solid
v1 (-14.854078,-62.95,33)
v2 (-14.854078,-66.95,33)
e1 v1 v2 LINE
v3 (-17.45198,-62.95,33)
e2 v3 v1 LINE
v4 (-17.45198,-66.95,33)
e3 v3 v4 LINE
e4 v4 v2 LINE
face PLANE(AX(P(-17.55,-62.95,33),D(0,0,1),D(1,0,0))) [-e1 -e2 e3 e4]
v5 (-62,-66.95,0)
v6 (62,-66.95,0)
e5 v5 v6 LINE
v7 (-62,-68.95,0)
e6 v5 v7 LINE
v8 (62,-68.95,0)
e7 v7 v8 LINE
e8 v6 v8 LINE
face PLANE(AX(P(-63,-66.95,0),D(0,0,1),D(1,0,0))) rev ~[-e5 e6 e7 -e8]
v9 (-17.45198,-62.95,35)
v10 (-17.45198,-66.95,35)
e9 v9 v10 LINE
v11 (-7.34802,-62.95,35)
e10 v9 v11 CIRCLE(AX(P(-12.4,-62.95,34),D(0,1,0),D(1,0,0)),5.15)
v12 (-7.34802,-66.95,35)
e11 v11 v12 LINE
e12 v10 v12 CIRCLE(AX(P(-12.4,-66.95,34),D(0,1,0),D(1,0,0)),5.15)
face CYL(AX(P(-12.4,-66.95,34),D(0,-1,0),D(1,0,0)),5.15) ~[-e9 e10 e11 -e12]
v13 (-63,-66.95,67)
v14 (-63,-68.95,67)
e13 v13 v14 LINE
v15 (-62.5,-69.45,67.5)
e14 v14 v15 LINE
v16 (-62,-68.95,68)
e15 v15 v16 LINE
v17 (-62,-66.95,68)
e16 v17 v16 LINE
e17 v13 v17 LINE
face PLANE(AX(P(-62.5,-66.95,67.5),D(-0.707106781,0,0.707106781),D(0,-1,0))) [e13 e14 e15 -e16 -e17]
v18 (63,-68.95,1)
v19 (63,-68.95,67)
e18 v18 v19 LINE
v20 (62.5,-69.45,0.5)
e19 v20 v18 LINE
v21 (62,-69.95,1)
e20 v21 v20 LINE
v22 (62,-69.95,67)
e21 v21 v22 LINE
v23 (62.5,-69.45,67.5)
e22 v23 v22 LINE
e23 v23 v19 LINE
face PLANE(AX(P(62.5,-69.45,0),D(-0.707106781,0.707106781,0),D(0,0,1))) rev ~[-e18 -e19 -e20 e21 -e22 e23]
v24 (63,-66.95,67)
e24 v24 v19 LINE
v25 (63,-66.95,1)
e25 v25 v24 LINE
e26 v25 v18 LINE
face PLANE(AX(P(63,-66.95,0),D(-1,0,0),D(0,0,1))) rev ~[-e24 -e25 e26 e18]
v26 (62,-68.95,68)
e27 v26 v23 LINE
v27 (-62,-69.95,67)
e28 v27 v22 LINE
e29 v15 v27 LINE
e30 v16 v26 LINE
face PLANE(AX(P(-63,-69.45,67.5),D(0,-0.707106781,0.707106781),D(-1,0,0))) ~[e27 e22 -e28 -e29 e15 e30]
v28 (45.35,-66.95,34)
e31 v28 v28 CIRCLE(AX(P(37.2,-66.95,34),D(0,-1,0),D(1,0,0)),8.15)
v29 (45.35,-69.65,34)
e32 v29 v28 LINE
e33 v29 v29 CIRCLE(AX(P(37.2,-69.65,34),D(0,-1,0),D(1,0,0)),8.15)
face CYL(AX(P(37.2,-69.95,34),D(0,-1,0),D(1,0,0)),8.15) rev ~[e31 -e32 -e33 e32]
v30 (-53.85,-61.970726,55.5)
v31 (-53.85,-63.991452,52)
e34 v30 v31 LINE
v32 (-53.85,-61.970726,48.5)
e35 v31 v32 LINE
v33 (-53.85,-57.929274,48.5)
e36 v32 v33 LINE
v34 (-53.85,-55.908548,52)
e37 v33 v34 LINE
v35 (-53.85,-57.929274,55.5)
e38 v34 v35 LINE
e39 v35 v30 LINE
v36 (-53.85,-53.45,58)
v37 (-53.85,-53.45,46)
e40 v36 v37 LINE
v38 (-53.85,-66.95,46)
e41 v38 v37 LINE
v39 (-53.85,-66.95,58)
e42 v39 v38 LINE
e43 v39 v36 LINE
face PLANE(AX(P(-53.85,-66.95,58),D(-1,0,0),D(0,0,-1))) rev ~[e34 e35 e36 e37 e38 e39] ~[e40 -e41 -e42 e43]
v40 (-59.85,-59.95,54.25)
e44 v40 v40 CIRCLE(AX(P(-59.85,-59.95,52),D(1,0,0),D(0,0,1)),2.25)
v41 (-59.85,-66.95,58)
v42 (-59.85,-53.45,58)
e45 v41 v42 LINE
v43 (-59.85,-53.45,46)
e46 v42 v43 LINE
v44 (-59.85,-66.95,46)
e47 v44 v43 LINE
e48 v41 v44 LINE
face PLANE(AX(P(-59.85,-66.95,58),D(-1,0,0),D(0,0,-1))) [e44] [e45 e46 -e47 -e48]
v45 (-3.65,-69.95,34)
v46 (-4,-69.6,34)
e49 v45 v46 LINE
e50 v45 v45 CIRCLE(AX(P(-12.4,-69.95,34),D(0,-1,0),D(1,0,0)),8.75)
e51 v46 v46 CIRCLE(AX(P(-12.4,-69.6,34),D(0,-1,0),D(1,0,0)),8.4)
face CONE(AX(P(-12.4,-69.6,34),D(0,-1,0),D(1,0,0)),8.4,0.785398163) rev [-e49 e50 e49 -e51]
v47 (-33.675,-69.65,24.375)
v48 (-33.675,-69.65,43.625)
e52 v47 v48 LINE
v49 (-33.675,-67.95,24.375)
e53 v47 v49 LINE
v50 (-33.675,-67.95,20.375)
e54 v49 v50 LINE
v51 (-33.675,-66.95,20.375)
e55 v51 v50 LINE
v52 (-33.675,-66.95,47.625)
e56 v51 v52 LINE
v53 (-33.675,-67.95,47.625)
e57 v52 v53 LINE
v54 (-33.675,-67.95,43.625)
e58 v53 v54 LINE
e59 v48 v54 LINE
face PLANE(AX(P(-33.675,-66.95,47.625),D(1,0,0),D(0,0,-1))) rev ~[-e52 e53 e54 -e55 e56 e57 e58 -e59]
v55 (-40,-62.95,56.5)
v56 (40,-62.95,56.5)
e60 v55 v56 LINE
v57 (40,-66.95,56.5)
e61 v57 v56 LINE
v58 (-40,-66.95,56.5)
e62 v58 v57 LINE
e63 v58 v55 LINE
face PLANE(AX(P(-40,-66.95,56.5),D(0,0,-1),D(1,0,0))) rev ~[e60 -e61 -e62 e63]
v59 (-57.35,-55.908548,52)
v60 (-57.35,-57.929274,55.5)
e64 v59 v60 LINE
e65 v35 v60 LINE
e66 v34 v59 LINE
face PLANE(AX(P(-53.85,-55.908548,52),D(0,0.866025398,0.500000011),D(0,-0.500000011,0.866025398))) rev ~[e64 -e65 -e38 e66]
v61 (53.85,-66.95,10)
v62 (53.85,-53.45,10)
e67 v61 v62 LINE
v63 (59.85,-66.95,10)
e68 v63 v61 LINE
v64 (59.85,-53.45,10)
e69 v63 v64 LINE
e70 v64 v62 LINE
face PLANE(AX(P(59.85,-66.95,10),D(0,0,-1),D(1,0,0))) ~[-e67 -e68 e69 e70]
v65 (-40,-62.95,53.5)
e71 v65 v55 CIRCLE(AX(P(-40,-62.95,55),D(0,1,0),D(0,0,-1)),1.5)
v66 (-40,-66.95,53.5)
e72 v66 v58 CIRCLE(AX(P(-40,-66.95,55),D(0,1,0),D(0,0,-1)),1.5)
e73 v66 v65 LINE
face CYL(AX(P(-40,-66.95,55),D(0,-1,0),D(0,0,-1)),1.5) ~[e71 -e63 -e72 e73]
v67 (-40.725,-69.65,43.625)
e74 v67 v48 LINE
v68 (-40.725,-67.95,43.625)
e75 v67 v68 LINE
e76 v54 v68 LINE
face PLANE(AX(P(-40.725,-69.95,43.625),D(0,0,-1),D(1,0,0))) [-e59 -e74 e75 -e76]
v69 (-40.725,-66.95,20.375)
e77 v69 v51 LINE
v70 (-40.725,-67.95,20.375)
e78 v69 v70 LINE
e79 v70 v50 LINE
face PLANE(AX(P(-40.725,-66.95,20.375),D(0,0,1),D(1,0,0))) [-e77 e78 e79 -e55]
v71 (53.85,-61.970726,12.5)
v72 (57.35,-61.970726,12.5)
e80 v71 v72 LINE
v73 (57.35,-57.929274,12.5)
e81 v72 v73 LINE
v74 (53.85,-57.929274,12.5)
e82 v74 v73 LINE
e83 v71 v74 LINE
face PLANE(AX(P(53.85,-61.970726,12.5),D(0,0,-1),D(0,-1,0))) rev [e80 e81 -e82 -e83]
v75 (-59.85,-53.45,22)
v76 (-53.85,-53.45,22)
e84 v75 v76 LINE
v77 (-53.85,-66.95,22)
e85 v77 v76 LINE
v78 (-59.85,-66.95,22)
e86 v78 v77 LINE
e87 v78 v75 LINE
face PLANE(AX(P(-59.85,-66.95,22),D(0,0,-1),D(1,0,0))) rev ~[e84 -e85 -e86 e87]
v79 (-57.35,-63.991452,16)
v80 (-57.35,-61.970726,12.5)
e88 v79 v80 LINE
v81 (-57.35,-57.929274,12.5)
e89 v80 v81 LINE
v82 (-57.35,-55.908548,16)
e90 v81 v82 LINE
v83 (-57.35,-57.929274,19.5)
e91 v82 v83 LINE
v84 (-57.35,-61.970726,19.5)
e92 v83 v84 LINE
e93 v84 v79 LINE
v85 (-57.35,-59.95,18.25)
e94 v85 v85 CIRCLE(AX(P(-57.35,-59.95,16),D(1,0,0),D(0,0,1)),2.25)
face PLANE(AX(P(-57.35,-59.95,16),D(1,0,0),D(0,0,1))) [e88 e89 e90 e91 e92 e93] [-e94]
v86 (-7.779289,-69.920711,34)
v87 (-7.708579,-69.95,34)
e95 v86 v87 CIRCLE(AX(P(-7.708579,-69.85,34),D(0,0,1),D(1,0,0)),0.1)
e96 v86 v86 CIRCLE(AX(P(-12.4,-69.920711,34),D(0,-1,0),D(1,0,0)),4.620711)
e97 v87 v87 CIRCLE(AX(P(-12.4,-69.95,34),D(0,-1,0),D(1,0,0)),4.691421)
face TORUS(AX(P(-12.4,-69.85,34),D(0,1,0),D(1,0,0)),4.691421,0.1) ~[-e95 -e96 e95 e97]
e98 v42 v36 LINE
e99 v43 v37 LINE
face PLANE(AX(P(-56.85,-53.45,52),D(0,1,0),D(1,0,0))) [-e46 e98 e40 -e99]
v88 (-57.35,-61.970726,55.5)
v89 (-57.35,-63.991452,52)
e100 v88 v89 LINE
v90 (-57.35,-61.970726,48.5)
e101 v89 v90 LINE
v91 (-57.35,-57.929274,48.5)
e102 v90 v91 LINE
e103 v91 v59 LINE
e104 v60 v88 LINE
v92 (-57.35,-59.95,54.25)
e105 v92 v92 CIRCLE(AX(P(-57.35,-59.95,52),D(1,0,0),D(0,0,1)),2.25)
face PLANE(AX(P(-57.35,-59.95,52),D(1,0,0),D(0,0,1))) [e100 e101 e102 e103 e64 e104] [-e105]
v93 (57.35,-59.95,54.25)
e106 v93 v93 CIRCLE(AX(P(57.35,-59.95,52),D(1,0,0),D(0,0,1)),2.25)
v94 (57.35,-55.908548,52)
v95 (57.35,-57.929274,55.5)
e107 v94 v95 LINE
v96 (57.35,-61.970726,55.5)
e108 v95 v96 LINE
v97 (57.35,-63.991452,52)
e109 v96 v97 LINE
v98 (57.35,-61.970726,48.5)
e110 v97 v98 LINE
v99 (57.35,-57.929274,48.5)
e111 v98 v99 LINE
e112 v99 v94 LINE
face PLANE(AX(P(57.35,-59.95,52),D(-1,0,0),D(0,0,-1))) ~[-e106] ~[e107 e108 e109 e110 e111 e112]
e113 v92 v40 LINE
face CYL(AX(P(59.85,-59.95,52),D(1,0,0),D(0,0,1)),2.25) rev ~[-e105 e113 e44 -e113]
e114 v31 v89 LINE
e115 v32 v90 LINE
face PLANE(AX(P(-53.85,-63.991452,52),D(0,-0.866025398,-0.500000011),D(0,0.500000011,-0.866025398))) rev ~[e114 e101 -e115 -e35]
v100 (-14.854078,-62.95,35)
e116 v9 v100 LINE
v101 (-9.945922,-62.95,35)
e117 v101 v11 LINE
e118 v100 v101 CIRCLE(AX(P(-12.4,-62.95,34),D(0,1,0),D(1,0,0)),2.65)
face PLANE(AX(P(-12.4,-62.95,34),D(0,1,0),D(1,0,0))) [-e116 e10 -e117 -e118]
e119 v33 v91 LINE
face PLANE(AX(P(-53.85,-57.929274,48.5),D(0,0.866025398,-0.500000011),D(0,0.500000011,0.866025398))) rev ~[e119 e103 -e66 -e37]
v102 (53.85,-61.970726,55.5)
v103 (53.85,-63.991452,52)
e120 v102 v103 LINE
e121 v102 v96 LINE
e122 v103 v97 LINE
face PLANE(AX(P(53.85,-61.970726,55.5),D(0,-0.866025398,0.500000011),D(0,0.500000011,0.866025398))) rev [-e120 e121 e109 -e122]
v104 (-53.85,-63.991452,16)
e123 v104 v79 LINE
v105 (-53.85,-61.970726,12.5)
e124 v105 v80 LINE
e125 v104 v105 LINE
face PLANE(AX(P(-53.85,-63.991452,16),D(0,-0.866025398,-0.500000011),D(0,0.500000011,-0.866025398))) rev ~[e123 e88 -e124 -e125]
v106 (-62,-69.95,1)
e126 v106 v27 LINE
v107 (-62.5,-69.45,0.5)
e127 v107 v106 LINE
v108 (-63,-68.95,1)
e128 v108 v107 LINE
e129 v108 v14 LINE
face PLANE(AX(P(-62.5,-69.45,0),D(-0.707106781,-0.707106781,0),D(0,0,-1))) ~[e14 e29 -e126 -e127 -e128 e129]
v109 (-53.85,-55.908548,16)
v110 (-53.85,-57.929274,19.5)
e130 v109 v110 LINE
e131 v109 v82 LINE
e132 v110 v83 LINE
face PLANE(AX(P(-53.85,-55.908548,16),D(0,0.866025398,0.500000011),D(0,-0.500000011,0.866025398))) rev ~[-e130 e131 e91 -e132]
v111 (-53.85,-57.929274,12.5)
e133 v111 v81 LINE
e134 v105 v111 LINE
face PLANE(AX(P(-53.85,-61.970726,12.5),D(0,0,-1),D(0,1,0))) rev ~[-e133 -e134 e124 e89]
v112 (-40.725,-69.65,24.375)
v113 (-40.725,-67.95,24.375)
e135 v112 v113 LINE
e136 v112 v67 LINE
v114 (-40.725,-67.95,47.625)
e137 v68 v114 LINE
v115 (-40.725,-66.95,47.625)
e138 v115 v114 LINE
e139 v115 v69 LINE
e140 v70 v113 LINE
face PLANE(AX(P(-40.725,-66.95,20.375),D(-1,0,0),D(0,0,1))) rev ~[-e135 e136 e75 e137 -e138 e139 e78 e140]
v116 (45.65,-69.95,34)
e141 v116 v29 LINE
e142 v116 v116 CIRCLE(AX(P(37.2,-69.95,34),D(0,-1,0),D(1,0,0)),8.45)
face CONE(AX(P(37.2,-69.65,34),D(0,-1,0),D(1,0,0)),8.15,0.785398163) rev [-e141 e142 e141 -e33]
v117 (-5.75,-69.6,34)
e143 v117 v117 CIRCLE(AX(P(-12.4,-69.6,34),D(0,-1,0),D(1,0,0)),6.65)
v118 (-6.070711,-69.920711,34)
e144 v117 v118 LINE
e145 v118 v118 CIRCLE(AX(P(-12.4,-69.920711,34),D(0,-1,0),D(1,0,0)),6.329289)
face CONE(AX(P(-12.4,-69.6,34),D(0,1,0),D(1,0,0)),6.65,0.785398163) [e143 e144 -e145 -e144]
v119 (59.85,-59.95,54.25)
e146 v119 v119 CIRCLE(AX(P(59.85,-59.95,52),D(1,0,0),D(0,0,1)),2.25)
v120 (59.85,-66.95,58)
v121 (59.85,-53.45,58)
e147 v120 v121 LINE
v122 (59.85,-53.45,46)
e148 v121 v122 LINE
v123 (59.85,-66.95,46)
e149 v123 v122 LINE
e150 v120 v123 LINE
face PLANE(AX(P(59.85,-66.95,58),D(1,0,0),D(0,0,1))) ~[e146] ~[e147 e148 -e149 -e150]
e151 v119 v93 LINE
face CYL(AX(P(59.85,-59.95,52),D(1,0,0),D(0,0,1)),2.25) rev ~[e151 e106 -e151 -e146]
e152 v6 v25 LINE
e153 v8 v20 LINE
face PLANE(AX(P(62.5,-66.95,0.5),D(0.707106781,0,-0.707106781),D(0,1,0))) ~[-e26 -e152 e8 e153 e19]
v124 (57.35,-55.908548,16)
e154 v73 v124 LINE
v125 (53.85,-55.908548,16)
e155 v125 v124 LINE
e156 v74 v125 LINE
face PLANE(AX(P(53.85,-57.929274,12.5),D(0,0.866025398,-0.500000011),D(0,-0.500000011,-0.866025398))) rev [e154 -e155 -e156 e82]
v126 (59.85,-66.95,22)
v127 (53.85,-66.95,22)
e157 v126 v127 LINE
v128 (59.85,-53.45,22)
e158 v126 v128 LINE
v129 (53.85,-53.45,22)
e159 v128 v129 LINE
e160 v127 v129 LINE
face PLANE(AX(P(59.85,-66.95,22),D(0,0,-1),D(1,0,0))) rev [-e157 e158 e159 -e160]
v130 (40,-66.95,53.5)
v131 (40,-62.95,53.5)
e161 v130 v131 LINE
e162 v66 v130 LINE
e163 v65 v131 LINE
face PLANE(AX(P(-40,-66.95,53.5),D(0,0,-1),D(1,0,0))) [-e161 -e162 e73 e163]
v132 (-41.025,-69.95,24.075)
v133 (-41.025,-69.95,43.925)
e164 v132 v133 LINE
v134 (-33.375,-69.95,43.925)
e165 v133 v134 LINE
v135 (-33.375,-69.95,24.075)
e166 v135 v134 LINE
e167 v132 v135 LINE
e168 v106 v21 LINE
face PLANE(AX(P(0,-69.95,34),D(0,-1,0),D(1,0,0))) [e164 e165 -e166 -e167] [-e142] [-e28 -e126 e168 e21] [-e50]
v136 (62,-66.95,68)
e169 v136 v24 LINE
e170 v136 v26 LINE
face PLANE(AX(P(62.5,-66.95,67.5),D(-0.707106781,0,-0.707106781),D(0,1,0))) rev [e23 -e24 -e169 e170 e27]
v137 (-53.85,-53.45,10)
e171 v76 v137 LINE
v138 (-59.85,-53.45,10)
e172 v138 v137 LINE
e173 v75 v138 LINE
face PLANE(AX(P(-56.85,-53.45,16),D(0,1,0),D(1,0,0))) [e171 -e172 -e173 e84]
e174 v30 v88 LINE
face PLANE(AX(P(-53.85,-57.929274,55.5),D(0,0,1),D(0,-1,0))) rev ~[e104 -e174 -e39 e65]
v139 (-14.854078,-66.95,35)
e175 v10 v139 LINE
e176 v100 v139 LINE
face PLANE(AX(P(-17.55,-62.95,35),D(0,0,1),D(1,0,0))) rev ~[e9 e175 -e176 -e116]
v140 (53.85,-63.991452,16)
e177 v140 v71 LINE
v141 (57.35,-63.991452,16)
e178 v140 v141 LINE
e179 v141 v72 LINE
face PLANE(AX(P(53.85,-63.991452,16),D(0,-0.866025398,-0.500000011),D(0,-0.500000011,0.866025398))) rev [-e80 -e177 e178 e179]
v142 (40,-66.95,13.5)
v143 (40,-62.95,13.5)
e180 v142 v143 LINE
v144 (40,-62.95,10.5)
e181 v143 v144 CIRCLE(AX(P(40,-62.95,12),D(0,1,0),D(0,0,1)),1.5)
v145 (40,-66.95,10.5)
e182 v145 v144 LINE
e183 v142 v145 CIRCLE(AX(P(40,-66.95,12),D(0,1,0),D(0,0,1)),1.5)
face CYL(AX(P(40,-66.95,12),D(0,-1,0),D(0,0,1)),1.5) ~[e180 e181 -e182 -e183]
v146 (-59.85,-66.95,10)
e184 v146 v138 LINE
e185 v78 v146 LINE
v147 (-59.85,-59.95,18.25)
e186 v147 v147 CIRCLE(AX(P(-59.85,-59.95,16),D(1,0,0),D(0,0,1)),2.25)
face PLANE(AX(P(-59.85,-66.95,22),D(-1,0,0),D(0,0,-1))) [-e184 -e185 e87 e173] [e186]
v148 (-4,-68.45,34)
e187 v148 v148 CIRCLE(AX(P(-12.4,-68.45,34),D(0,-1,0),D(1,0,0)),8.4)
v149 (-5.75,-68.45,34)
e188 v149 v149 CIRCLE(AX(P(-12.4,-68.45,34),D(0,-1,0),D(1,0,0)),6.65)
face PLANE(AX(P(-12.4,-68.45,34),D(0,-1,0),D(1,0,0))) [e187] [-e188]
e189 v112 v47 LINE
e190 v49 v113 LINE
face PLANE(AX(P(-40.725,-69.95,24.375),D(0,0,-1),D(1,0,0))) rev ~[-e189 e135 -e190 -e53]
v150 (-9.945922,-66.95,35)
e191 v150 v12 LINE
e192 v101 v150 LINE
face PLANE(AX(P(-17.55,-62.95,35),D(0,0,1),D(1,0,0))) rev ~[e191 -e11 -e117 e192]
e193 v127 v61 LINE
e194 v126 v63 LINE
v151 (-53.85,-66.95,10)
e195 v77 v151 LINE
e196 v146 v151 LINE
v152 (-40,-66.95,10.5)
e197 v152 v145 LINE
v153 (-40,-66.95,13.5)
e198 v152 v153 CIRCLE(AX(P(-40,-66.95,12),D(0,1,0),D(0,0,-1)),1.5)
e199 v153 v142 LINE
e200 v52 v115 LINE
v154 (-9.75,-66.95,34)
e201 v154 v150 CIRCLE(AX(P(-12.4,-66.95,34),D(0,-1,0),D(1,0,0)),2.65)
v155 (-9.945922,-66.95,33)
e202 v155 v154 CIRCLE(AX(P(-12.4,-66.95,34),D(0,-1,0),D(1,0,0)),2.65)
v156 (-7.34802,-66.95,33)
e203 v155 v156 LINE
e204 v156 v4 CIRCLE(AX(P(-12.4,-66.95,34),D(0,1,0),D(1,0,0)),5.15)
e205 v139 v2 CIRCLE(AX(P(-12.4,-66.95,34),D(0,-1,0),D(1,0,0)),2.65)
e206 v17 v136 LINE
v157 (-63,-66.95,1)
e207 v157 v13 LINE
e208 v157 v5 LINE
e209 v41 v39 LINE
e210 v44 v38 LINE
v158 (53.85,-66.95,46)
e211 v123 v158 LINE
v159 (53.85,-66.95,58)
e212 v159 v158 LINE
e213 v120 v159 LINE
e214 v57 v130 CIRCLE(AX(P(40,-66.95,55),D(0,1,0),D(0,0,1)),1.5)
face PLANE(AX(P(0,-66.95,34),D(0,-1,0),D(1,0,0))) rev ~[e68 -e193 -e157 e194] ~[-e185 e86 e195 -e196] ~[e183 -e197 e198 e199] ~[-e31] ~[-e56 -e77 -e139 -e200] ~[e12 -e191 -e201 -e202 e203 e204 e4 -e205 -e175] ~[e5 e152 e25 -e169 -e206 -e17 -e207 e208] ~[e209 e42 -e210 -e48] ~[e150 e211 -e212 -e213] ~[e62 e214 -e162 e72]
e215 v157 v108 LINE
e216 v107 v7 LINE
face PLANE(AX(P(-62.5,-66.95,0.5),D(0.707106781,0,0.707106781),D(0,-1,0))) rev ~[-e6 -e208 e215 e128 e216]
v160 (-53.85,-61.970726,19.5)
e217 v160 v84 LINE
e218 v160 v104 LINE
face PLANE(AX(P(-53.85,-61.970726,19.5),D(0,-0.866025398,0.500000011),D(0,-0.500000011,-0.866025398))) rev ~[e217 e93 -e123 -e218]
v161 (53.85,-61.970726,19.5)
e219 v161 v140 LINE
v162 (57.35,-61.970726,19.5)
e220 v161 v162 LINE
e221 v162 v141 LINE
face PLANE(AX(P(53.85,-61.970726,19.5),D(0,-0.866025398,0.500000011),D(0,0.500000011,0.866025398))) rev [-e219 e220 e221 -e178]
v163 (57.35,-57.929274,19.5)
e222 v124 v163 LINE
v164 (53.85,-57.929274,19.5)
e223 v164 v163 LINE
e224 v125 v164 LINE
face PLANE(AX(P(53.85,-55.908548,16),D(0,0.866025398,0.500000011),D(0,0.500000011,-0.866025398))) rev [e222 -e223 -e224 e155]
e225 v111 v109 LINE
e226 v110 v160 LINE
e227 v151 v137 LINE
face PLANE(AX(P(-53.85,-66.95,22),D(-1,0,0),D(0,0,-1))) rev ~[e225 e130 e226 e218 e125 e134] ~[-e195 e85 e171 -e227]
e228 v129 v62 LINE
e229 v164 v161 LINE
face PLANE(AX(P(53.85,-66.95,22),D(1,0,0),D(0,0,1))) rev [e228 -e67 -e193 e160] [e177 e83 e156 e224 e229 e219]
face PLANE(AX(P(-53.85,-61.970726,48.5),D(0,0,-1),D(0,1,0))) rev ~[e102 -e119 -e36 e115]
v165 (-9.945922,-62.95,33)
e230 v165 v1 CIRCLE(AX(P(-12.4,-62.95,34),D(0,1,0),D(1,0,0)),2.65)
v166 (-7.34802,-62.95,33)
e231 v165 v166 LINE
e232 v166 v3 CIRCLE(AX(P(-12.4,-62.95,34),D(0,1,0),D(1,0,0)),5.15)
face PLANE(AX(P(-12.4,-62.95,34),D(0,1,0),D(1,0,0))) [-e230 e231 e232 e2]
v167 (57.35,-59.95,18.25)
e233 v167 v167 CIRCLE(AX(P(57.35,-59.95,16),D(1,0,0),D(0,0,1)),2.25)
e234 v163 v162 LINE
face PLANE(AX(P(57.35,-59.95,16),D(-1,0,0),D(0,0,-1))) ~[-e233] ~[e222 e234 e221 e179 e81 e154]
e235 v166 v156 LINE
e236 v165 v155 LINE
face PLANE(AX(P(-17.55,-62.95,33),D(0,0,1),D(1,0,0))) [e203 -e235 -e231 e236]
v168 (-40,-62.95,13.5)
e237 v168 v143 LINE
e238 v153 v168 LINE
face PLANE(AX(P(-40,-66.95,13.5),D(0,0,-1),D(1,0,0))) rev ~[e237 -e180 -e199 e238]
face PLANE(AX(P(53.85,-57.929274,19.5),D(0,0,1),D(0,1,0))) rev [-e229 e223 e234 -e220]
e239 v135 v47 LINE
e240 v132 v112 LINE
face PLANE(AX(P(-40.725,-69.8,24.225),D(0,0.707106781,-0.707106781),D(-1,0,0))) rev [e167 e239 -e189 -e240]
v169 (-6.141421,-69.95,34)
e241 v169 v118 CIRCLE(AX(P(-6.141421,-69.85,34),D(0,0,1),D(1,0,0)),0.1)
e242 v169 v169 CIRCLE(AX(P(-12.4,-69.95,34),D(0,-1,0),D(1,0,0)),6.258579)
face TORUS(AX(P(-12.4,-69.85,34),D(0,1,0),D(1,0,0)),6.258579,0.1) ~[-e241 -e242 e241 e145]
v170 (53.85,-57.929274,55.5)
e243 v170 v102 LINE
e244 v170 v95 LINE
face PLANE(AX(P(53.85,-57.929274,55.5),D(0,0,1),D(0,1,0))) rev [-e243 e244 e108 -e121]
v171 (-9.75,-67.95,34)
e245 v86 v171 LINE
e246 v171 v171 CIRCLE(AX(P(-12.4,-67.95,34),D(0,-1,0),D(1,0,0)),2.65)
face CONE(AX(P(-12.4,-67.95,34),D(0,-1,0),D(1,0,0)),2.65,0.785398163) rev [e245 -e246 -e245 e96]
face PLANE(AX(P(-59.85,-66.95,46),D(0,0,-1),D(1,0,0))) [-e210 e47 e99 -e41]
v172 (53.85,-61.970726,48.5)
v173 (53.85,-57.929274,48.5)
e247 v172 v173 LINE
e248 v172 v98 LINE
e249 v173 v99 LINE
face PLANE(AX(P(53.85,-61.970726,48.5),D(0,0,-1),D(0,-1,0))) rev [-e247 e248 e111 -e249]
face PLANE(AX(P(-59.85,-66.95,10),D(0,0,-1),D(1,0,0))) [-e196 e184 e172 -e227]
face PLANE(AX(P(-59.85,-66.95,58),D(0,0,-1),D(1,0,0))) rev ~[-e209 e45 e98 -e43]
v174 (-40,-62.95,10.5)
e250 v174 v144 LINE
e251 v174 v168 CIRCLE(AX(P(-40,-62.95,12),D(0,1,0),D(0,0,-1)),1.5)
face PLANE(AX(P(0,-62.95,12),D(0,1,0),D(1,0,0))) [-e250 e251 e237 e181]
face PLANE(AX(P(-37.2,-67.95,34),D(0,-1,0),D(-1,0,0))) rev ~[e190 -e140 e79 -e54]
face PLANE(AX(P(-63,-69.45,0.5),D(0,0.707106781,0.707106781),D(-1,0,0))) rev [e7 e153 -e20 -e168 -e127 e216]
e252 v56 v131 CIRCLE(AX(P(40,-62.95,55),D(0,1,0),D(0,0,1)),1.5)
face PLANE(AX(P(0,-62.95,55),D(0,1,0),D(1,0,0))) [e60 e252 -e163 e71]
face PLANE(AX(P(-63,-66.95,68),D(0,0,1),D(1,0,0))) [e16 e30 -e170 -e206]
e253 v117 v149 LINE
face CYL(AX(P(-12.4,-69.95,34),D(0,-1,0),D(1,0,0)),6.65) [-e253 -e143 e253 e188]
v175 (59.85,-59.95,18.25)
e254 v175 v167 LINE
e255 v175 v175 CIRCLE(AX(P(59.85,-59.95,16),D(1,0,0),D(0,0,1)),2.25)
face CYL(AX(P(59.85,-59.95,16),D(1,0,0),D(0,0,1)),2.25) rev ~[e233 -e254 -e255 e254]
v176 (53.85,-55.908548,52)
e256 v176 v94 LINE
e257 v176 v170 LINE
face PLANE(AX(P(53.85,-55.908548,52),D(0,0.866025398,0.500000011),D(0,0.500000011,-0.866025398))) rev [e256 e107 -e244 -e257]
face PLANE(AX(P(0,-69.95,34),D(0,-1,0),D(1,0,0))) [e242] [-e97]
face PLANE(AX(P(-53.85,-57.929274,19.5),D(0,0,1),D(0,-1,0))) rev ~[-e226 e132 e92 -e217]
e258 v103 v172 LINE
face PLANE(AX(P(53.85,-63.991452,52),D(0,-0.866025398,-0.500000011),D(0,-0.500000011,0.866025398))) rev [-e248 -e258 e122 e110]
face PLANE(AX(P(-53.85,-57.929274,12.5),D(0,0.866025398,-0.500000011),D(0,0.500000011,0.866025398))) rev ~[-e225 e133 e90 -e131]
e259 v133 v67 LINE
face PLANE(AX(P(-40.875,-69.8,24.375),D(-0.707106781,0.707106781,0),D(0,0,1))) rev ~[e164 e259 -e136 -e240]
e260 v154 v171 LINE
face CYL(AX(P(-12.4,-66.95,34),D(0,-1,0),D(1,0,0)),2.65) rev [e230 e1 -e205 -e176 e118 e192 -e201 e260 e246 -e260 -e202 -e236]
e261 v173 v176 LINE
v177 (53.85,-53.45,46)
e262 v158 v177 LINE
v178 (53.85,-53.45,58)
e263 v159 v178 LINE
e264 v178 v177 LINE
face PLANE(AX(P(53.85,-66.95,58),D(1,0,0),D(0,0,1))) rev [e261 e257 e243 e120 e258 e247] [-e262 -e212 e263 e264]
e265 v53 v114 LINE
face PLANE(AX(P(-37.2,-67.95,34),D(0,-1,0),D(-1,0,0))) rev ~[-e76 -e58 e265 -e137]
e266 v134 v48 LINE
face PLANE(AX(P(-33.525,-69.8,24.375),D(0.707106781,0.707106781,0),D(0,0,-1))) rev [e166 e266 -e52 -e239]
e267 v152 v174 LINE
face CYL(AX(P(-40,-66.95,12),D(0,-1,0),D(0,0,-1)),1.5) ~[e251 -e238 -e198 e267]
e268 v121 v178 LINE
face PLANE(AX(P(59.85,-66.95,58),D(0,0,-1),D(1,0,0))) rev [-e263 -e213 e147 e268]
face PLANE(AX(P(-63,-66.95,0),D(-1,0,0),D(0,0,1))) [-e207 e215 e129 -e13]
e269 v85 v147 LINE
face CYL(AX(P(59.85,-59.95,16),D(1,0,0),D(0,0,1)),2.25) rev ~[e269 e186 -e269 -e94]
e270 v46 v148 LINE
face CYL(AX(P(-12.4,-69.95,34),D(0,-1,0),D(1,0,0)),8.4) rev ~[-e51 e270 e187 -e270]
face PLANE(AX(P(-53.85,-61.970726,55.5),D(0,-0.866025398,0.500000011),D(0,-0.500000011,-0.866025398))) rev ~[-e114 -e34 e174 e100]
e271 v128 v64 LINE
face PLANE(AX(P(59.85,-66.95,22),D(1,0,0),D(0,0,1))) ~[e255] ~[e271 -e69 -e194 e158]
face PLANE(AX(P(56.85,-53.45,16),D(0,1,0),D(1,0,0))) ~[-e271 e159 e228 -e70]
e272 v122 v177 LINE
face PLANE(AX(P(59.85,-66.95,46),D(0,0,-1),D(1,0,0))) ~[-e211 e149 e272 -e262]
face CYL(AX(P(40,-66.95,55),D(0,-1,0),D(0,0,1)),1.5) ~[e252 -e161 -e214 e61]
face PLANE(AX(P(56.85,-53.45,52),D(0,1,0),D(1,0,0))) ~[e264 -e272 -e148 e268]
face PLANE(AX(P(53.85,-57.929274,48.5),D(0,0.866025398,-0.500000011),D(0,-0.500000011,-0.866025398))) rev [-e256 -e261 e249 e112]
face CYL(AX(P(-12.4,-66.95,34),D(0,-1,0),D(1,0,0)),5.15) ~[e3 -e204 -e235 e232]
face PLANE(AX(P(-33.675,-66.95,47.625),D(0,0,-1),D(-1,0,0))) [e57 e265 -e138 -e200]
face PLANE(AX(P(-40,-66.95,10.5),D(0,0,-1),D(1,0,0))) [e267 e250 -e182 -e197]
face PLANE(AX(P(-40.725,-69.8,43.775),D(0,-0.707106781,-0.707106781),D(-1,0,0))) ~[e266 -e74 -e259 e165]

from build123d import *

# Parameters (mm, degrees)
SKETCH010_W     = 126
SKETCH010_H     = 68
PAD006_DEPTH    = 3
SKETCH011_W     = 6
SKETCH011_H     = 12
PAD007_DEPTH    = 13.5
SKETCH012_R     = 2.25
POCKET004_DEPTH = 122.851
POCKET005_DEPTH = 3.5
CHAMFER003_SIZE = 1
CHAMFER004_SIZE = 1
CHAMFER007_SIZE = 1
SKETCH024_R     = 2.65
SKETCH024_R_2   = 8.15
SKETCH024_W     = 7.05
SKETCH024_H     = 19.25
POCKET012_DEPTH = 16.501
POCKET013_DEPTH = 1
CHAMFER010_SIZE = 2
SKETCH026_R     = 8.4
SKETCH026_R_2   = 6.65
POCKET014_DEPTH = 1.5
CHAMFER011_SIZE = 0.35
CHAMFER012_SIZE = 0.3
SKETCH030_R     = 5.15
SKETCH030_R_2   = 2.65
PAD012_DEPTH    = 4
SKETCH031_W     = 10.3
SKETCH031_H     = 2
POCKET016_DEPTH = 4
PAD016_DEPTH    = 4
FILLET003_R     = 0.1


with BuildPart() as part:
    # Sketch010 → Pad006 (new body)
    with BuildSketch(Plane.XZ):
        with Locations((0, 34)):
            Rectangle(SKETCH010_W, SKETCH010_H)
    extrude(amount=PAD006_DEPTH)

    # Sketch011 (on Face5 of Pad006) → Pad007 (join)
    with BuildSketch(Plane(origin=(0, 0, 0), x_dir=(1, 0, 0), z_dir=(0, 1, 0))):
        with Locations((-56.85, -16)):
            Rectangle(SKETCH011_W, SKETCH011_H)
        with Locations((-56.85, -52)):
            Rectangle(SKETCH011_W, SKETCH011_H)
    pad007 = extrude(amount=PAD007_DEPTH)

    # Mirrored002: Pad007 across YZ
    add(pad007.mirror(Plane.YZ))

    # Sketch012 (on Face22 of Mirrored002) → Pocket004 (cut, through all)
    with BuildSketch(Plane(origin=(59.85, 0, 0), x_dir=(0, 0, 1), z_dir=(1, 0, 0))):
        with Locations((16, -7)):
            Circle(SKETCH012_R)
        with Locations((52, -7)):
            Circle(SKETCH012_R)
    extrude(amount=-POCKET004_DEPTH, mode=Mode.SUBTRACT)

    # Sketch013 (on Face10 of Pocket004) → Pocket005 (cut)
    with BuildSketch(Plane(origin=(-53.85, 0, 0), x_dir=(0, 0, 1), z_dir=(1, 0, 0))):
        Polygon((19.5, -9.020726), (19.5, -4.979274), (16, -2.958548), (12.5, -4.979274), (12.5, -9.020726), (16, -11.041452), align=None)
        Polygon((55.5, -9.020726), (55.5, -4.979274), (52, -2.958548), (48.5, -4.979274), (48.5, -9.020726), (52, -11.041452), align=None)
    pocket005 = extrude(amount=-POCKET005_DEPTH, mode=Mode.SUBTRACT)

    # Chamfer003
    chamfer003_edges = [part.edges().sort_by_distance(p)[0] for p in [
        (0, -3, 68),
        (63, -3, 34),
        (0, -3, 0),
        (-63, -3, 34),
    ]]
    chamfer(chamfer003_edges, length=CHAMFER003_SIZE)

    # Chamfer004
    chamfer004_edges = [part.edges().sort_by_distance(p)[0] for p in [
        (-63, -1, 68),
        (63, -1, 68),
    ]]
    chamfer(chamfer004_edges, length=CHAMFER004_SIZE)

    # Chamfer007
    chamfer007_edges = [part.edges().sort_by_distance(p)[0] for p in [
        (63, -1, 0),
        (-63, -1, 0),
    ]]
    chamfer(chamfer007_edges, length=CHAMFER007_SIZE)

    # Mirrored005: Pocket005 across YZ
    add(pocket005.mirror(Plane.YZ), mode=Mode.SUBTRACT)

    # Sketch024 (on Face62 of Mirrored005) → Pocket012 (cut, through all)
    with BuildSketch(Plane.XZ.offset(3)):
        with Locations((-12.4, 34)):
            Circle(SKETCH024_R)
        with Locations((37.2, 34)):
            Circle(SKETCH024_R_2)
        with Locations((-37.2, 34)):
            Rectangle(SKETCH024_W, SKETCH024_H)
    extrude(amount=-POCKET012_DEPTH, mode=Mode.SUBTRACT)

    # Sketch025 (on Face1 of Pocket012) → Pocket013 (cut)
    with BuildSketch(Plane(origin=(0, 0, 0), x_dir=(1, 0, 0), z_dir=(0, 1, 0))):
        Polygon((-40.725, -20.375), (-33.675, -20.375), (-33.675, -43.625), (-33.675, -47.625), (-40.725, -47.625), (-40.725, -24.375), align=None)
    extrude(amount=-POCKET013_DEPTH, mode=Mode.SUBTRACT)

    # Chamfer010
    chamfer010_edges = [part.edges().sort_by_distance(p)[0] for p in [
        (-15.05, -3, 34),
    ]]
    chamfer(chamfer010_edges, length=CHAMFER010_SIZE)

    # Sketch026 (on Face4 of Chamfer010) → Pocket014 (cut)
    with BuildSketch(Plane.XZ.offset(3)):
        with Locations((-12.4, 34)):
            Circle(SKETCH026_R)
        with Locations((-12.4, 34)):
            Circle(SKETCH026_R_2, mode=Mode.SUBTRACT)
    extrude(amount=-POCKET014_DEPTH, mode=Mode.SUBTRACT)

    # Chamfer011
    chamfer011_edges = [part.edges().sort_by_distance(p)[0] for p in [
        (-19.05, -3, 34),
        (-20.8, -3, 34),
    ]]
    chamfer(chamfer011_edges, length=CHAMFER011_SIZE)

    # Chamfer012
    chamfer012_edges = [part.edges().sort_by_distance(p)[0] for p in [
        (-37.2, -3, 24.375),
        (-40.725, -3, 34),
        (-33.675, -3, 34),
        (-37.2, -3, 43.625),
        (29.05, -3, 34),
    ]]
    chamfer(chamfer012_edges, length=CHAMFER012_SIZE)

    # Sketch030 (on Face3 of Chamfer012) → Pad012 (join)
    with BuildSketch(Plane(origin=(0, 0, 0), x_dir=(1, 0, 0), z_dir=(0, 1, 0))):
        with Locations((-12.4, -34)):
            Circle(SKETCH030_R)
        with Locations((-12.4, -34)):
            Circle(SKETCH030_R_2, mode=Mode.SUBTRACT)
    extrude(amount=PAD012_DEPTH)

    # Sketch031 (on Face83 of Pad012) → Pocket016 (cut)
    with BuildSketch(Plane(origin=(0, 4, 0), x_dir=(1, 0, 0), z_dir=(0, 1, 0))):
        with Locations((-12.4, -34)):
            Rectangle(SKETCH031_W, SKETCH031_H)
    extrude(amount=-POCKET016_DEPTH, mode=Mode.SUBTRACT)

    # Sketch035 (on Face3 of Pocket016) → Pad016 (join)
    with BuildSketch(Plane(origin=(0, 0, 0), x_dir=(1, 0, 0), z_dir=(0, 1, 0))):
        with BuildLine():
            ThreePointArc((-40, -53.5), (-41.5, -55), (-40, -56.5))
            Line((-40, -56.5), (40, -56.5))
            ThreePointArc((40, -56.5), (41.5, -55), (40, -53.5))
            Line((-40, -53.5), (40, -53.5))
        make_face()
        with BuildLine():
            ThreePointArc((-40, -10.5), (-41.5, -12), (-40, -13.5))
            Line((-40, -13.5), (40, -13.5))
            ThreePointArc((40, -13.5), (41.5, -12), (40, -10.5))
            Line((-40, -10.5), (40, -10.5))
        make_face()
    extrude(amount=PAD016_DEPTH)

    # Fillet003
    fillet003_edges = [part.edges().sort_by_distance(p)[0] for p in [
        (-18.7, -3, 34),
        (-17.05, -3, 34),
    ]]
    fillet(fillet003_edges, radius=FILLET003_R)


with BuildPart() as part_1:
    # Body003 placement: moved
    add(part.part.moved(Location((0, -66.95, 0))))


solid = part_1.part
